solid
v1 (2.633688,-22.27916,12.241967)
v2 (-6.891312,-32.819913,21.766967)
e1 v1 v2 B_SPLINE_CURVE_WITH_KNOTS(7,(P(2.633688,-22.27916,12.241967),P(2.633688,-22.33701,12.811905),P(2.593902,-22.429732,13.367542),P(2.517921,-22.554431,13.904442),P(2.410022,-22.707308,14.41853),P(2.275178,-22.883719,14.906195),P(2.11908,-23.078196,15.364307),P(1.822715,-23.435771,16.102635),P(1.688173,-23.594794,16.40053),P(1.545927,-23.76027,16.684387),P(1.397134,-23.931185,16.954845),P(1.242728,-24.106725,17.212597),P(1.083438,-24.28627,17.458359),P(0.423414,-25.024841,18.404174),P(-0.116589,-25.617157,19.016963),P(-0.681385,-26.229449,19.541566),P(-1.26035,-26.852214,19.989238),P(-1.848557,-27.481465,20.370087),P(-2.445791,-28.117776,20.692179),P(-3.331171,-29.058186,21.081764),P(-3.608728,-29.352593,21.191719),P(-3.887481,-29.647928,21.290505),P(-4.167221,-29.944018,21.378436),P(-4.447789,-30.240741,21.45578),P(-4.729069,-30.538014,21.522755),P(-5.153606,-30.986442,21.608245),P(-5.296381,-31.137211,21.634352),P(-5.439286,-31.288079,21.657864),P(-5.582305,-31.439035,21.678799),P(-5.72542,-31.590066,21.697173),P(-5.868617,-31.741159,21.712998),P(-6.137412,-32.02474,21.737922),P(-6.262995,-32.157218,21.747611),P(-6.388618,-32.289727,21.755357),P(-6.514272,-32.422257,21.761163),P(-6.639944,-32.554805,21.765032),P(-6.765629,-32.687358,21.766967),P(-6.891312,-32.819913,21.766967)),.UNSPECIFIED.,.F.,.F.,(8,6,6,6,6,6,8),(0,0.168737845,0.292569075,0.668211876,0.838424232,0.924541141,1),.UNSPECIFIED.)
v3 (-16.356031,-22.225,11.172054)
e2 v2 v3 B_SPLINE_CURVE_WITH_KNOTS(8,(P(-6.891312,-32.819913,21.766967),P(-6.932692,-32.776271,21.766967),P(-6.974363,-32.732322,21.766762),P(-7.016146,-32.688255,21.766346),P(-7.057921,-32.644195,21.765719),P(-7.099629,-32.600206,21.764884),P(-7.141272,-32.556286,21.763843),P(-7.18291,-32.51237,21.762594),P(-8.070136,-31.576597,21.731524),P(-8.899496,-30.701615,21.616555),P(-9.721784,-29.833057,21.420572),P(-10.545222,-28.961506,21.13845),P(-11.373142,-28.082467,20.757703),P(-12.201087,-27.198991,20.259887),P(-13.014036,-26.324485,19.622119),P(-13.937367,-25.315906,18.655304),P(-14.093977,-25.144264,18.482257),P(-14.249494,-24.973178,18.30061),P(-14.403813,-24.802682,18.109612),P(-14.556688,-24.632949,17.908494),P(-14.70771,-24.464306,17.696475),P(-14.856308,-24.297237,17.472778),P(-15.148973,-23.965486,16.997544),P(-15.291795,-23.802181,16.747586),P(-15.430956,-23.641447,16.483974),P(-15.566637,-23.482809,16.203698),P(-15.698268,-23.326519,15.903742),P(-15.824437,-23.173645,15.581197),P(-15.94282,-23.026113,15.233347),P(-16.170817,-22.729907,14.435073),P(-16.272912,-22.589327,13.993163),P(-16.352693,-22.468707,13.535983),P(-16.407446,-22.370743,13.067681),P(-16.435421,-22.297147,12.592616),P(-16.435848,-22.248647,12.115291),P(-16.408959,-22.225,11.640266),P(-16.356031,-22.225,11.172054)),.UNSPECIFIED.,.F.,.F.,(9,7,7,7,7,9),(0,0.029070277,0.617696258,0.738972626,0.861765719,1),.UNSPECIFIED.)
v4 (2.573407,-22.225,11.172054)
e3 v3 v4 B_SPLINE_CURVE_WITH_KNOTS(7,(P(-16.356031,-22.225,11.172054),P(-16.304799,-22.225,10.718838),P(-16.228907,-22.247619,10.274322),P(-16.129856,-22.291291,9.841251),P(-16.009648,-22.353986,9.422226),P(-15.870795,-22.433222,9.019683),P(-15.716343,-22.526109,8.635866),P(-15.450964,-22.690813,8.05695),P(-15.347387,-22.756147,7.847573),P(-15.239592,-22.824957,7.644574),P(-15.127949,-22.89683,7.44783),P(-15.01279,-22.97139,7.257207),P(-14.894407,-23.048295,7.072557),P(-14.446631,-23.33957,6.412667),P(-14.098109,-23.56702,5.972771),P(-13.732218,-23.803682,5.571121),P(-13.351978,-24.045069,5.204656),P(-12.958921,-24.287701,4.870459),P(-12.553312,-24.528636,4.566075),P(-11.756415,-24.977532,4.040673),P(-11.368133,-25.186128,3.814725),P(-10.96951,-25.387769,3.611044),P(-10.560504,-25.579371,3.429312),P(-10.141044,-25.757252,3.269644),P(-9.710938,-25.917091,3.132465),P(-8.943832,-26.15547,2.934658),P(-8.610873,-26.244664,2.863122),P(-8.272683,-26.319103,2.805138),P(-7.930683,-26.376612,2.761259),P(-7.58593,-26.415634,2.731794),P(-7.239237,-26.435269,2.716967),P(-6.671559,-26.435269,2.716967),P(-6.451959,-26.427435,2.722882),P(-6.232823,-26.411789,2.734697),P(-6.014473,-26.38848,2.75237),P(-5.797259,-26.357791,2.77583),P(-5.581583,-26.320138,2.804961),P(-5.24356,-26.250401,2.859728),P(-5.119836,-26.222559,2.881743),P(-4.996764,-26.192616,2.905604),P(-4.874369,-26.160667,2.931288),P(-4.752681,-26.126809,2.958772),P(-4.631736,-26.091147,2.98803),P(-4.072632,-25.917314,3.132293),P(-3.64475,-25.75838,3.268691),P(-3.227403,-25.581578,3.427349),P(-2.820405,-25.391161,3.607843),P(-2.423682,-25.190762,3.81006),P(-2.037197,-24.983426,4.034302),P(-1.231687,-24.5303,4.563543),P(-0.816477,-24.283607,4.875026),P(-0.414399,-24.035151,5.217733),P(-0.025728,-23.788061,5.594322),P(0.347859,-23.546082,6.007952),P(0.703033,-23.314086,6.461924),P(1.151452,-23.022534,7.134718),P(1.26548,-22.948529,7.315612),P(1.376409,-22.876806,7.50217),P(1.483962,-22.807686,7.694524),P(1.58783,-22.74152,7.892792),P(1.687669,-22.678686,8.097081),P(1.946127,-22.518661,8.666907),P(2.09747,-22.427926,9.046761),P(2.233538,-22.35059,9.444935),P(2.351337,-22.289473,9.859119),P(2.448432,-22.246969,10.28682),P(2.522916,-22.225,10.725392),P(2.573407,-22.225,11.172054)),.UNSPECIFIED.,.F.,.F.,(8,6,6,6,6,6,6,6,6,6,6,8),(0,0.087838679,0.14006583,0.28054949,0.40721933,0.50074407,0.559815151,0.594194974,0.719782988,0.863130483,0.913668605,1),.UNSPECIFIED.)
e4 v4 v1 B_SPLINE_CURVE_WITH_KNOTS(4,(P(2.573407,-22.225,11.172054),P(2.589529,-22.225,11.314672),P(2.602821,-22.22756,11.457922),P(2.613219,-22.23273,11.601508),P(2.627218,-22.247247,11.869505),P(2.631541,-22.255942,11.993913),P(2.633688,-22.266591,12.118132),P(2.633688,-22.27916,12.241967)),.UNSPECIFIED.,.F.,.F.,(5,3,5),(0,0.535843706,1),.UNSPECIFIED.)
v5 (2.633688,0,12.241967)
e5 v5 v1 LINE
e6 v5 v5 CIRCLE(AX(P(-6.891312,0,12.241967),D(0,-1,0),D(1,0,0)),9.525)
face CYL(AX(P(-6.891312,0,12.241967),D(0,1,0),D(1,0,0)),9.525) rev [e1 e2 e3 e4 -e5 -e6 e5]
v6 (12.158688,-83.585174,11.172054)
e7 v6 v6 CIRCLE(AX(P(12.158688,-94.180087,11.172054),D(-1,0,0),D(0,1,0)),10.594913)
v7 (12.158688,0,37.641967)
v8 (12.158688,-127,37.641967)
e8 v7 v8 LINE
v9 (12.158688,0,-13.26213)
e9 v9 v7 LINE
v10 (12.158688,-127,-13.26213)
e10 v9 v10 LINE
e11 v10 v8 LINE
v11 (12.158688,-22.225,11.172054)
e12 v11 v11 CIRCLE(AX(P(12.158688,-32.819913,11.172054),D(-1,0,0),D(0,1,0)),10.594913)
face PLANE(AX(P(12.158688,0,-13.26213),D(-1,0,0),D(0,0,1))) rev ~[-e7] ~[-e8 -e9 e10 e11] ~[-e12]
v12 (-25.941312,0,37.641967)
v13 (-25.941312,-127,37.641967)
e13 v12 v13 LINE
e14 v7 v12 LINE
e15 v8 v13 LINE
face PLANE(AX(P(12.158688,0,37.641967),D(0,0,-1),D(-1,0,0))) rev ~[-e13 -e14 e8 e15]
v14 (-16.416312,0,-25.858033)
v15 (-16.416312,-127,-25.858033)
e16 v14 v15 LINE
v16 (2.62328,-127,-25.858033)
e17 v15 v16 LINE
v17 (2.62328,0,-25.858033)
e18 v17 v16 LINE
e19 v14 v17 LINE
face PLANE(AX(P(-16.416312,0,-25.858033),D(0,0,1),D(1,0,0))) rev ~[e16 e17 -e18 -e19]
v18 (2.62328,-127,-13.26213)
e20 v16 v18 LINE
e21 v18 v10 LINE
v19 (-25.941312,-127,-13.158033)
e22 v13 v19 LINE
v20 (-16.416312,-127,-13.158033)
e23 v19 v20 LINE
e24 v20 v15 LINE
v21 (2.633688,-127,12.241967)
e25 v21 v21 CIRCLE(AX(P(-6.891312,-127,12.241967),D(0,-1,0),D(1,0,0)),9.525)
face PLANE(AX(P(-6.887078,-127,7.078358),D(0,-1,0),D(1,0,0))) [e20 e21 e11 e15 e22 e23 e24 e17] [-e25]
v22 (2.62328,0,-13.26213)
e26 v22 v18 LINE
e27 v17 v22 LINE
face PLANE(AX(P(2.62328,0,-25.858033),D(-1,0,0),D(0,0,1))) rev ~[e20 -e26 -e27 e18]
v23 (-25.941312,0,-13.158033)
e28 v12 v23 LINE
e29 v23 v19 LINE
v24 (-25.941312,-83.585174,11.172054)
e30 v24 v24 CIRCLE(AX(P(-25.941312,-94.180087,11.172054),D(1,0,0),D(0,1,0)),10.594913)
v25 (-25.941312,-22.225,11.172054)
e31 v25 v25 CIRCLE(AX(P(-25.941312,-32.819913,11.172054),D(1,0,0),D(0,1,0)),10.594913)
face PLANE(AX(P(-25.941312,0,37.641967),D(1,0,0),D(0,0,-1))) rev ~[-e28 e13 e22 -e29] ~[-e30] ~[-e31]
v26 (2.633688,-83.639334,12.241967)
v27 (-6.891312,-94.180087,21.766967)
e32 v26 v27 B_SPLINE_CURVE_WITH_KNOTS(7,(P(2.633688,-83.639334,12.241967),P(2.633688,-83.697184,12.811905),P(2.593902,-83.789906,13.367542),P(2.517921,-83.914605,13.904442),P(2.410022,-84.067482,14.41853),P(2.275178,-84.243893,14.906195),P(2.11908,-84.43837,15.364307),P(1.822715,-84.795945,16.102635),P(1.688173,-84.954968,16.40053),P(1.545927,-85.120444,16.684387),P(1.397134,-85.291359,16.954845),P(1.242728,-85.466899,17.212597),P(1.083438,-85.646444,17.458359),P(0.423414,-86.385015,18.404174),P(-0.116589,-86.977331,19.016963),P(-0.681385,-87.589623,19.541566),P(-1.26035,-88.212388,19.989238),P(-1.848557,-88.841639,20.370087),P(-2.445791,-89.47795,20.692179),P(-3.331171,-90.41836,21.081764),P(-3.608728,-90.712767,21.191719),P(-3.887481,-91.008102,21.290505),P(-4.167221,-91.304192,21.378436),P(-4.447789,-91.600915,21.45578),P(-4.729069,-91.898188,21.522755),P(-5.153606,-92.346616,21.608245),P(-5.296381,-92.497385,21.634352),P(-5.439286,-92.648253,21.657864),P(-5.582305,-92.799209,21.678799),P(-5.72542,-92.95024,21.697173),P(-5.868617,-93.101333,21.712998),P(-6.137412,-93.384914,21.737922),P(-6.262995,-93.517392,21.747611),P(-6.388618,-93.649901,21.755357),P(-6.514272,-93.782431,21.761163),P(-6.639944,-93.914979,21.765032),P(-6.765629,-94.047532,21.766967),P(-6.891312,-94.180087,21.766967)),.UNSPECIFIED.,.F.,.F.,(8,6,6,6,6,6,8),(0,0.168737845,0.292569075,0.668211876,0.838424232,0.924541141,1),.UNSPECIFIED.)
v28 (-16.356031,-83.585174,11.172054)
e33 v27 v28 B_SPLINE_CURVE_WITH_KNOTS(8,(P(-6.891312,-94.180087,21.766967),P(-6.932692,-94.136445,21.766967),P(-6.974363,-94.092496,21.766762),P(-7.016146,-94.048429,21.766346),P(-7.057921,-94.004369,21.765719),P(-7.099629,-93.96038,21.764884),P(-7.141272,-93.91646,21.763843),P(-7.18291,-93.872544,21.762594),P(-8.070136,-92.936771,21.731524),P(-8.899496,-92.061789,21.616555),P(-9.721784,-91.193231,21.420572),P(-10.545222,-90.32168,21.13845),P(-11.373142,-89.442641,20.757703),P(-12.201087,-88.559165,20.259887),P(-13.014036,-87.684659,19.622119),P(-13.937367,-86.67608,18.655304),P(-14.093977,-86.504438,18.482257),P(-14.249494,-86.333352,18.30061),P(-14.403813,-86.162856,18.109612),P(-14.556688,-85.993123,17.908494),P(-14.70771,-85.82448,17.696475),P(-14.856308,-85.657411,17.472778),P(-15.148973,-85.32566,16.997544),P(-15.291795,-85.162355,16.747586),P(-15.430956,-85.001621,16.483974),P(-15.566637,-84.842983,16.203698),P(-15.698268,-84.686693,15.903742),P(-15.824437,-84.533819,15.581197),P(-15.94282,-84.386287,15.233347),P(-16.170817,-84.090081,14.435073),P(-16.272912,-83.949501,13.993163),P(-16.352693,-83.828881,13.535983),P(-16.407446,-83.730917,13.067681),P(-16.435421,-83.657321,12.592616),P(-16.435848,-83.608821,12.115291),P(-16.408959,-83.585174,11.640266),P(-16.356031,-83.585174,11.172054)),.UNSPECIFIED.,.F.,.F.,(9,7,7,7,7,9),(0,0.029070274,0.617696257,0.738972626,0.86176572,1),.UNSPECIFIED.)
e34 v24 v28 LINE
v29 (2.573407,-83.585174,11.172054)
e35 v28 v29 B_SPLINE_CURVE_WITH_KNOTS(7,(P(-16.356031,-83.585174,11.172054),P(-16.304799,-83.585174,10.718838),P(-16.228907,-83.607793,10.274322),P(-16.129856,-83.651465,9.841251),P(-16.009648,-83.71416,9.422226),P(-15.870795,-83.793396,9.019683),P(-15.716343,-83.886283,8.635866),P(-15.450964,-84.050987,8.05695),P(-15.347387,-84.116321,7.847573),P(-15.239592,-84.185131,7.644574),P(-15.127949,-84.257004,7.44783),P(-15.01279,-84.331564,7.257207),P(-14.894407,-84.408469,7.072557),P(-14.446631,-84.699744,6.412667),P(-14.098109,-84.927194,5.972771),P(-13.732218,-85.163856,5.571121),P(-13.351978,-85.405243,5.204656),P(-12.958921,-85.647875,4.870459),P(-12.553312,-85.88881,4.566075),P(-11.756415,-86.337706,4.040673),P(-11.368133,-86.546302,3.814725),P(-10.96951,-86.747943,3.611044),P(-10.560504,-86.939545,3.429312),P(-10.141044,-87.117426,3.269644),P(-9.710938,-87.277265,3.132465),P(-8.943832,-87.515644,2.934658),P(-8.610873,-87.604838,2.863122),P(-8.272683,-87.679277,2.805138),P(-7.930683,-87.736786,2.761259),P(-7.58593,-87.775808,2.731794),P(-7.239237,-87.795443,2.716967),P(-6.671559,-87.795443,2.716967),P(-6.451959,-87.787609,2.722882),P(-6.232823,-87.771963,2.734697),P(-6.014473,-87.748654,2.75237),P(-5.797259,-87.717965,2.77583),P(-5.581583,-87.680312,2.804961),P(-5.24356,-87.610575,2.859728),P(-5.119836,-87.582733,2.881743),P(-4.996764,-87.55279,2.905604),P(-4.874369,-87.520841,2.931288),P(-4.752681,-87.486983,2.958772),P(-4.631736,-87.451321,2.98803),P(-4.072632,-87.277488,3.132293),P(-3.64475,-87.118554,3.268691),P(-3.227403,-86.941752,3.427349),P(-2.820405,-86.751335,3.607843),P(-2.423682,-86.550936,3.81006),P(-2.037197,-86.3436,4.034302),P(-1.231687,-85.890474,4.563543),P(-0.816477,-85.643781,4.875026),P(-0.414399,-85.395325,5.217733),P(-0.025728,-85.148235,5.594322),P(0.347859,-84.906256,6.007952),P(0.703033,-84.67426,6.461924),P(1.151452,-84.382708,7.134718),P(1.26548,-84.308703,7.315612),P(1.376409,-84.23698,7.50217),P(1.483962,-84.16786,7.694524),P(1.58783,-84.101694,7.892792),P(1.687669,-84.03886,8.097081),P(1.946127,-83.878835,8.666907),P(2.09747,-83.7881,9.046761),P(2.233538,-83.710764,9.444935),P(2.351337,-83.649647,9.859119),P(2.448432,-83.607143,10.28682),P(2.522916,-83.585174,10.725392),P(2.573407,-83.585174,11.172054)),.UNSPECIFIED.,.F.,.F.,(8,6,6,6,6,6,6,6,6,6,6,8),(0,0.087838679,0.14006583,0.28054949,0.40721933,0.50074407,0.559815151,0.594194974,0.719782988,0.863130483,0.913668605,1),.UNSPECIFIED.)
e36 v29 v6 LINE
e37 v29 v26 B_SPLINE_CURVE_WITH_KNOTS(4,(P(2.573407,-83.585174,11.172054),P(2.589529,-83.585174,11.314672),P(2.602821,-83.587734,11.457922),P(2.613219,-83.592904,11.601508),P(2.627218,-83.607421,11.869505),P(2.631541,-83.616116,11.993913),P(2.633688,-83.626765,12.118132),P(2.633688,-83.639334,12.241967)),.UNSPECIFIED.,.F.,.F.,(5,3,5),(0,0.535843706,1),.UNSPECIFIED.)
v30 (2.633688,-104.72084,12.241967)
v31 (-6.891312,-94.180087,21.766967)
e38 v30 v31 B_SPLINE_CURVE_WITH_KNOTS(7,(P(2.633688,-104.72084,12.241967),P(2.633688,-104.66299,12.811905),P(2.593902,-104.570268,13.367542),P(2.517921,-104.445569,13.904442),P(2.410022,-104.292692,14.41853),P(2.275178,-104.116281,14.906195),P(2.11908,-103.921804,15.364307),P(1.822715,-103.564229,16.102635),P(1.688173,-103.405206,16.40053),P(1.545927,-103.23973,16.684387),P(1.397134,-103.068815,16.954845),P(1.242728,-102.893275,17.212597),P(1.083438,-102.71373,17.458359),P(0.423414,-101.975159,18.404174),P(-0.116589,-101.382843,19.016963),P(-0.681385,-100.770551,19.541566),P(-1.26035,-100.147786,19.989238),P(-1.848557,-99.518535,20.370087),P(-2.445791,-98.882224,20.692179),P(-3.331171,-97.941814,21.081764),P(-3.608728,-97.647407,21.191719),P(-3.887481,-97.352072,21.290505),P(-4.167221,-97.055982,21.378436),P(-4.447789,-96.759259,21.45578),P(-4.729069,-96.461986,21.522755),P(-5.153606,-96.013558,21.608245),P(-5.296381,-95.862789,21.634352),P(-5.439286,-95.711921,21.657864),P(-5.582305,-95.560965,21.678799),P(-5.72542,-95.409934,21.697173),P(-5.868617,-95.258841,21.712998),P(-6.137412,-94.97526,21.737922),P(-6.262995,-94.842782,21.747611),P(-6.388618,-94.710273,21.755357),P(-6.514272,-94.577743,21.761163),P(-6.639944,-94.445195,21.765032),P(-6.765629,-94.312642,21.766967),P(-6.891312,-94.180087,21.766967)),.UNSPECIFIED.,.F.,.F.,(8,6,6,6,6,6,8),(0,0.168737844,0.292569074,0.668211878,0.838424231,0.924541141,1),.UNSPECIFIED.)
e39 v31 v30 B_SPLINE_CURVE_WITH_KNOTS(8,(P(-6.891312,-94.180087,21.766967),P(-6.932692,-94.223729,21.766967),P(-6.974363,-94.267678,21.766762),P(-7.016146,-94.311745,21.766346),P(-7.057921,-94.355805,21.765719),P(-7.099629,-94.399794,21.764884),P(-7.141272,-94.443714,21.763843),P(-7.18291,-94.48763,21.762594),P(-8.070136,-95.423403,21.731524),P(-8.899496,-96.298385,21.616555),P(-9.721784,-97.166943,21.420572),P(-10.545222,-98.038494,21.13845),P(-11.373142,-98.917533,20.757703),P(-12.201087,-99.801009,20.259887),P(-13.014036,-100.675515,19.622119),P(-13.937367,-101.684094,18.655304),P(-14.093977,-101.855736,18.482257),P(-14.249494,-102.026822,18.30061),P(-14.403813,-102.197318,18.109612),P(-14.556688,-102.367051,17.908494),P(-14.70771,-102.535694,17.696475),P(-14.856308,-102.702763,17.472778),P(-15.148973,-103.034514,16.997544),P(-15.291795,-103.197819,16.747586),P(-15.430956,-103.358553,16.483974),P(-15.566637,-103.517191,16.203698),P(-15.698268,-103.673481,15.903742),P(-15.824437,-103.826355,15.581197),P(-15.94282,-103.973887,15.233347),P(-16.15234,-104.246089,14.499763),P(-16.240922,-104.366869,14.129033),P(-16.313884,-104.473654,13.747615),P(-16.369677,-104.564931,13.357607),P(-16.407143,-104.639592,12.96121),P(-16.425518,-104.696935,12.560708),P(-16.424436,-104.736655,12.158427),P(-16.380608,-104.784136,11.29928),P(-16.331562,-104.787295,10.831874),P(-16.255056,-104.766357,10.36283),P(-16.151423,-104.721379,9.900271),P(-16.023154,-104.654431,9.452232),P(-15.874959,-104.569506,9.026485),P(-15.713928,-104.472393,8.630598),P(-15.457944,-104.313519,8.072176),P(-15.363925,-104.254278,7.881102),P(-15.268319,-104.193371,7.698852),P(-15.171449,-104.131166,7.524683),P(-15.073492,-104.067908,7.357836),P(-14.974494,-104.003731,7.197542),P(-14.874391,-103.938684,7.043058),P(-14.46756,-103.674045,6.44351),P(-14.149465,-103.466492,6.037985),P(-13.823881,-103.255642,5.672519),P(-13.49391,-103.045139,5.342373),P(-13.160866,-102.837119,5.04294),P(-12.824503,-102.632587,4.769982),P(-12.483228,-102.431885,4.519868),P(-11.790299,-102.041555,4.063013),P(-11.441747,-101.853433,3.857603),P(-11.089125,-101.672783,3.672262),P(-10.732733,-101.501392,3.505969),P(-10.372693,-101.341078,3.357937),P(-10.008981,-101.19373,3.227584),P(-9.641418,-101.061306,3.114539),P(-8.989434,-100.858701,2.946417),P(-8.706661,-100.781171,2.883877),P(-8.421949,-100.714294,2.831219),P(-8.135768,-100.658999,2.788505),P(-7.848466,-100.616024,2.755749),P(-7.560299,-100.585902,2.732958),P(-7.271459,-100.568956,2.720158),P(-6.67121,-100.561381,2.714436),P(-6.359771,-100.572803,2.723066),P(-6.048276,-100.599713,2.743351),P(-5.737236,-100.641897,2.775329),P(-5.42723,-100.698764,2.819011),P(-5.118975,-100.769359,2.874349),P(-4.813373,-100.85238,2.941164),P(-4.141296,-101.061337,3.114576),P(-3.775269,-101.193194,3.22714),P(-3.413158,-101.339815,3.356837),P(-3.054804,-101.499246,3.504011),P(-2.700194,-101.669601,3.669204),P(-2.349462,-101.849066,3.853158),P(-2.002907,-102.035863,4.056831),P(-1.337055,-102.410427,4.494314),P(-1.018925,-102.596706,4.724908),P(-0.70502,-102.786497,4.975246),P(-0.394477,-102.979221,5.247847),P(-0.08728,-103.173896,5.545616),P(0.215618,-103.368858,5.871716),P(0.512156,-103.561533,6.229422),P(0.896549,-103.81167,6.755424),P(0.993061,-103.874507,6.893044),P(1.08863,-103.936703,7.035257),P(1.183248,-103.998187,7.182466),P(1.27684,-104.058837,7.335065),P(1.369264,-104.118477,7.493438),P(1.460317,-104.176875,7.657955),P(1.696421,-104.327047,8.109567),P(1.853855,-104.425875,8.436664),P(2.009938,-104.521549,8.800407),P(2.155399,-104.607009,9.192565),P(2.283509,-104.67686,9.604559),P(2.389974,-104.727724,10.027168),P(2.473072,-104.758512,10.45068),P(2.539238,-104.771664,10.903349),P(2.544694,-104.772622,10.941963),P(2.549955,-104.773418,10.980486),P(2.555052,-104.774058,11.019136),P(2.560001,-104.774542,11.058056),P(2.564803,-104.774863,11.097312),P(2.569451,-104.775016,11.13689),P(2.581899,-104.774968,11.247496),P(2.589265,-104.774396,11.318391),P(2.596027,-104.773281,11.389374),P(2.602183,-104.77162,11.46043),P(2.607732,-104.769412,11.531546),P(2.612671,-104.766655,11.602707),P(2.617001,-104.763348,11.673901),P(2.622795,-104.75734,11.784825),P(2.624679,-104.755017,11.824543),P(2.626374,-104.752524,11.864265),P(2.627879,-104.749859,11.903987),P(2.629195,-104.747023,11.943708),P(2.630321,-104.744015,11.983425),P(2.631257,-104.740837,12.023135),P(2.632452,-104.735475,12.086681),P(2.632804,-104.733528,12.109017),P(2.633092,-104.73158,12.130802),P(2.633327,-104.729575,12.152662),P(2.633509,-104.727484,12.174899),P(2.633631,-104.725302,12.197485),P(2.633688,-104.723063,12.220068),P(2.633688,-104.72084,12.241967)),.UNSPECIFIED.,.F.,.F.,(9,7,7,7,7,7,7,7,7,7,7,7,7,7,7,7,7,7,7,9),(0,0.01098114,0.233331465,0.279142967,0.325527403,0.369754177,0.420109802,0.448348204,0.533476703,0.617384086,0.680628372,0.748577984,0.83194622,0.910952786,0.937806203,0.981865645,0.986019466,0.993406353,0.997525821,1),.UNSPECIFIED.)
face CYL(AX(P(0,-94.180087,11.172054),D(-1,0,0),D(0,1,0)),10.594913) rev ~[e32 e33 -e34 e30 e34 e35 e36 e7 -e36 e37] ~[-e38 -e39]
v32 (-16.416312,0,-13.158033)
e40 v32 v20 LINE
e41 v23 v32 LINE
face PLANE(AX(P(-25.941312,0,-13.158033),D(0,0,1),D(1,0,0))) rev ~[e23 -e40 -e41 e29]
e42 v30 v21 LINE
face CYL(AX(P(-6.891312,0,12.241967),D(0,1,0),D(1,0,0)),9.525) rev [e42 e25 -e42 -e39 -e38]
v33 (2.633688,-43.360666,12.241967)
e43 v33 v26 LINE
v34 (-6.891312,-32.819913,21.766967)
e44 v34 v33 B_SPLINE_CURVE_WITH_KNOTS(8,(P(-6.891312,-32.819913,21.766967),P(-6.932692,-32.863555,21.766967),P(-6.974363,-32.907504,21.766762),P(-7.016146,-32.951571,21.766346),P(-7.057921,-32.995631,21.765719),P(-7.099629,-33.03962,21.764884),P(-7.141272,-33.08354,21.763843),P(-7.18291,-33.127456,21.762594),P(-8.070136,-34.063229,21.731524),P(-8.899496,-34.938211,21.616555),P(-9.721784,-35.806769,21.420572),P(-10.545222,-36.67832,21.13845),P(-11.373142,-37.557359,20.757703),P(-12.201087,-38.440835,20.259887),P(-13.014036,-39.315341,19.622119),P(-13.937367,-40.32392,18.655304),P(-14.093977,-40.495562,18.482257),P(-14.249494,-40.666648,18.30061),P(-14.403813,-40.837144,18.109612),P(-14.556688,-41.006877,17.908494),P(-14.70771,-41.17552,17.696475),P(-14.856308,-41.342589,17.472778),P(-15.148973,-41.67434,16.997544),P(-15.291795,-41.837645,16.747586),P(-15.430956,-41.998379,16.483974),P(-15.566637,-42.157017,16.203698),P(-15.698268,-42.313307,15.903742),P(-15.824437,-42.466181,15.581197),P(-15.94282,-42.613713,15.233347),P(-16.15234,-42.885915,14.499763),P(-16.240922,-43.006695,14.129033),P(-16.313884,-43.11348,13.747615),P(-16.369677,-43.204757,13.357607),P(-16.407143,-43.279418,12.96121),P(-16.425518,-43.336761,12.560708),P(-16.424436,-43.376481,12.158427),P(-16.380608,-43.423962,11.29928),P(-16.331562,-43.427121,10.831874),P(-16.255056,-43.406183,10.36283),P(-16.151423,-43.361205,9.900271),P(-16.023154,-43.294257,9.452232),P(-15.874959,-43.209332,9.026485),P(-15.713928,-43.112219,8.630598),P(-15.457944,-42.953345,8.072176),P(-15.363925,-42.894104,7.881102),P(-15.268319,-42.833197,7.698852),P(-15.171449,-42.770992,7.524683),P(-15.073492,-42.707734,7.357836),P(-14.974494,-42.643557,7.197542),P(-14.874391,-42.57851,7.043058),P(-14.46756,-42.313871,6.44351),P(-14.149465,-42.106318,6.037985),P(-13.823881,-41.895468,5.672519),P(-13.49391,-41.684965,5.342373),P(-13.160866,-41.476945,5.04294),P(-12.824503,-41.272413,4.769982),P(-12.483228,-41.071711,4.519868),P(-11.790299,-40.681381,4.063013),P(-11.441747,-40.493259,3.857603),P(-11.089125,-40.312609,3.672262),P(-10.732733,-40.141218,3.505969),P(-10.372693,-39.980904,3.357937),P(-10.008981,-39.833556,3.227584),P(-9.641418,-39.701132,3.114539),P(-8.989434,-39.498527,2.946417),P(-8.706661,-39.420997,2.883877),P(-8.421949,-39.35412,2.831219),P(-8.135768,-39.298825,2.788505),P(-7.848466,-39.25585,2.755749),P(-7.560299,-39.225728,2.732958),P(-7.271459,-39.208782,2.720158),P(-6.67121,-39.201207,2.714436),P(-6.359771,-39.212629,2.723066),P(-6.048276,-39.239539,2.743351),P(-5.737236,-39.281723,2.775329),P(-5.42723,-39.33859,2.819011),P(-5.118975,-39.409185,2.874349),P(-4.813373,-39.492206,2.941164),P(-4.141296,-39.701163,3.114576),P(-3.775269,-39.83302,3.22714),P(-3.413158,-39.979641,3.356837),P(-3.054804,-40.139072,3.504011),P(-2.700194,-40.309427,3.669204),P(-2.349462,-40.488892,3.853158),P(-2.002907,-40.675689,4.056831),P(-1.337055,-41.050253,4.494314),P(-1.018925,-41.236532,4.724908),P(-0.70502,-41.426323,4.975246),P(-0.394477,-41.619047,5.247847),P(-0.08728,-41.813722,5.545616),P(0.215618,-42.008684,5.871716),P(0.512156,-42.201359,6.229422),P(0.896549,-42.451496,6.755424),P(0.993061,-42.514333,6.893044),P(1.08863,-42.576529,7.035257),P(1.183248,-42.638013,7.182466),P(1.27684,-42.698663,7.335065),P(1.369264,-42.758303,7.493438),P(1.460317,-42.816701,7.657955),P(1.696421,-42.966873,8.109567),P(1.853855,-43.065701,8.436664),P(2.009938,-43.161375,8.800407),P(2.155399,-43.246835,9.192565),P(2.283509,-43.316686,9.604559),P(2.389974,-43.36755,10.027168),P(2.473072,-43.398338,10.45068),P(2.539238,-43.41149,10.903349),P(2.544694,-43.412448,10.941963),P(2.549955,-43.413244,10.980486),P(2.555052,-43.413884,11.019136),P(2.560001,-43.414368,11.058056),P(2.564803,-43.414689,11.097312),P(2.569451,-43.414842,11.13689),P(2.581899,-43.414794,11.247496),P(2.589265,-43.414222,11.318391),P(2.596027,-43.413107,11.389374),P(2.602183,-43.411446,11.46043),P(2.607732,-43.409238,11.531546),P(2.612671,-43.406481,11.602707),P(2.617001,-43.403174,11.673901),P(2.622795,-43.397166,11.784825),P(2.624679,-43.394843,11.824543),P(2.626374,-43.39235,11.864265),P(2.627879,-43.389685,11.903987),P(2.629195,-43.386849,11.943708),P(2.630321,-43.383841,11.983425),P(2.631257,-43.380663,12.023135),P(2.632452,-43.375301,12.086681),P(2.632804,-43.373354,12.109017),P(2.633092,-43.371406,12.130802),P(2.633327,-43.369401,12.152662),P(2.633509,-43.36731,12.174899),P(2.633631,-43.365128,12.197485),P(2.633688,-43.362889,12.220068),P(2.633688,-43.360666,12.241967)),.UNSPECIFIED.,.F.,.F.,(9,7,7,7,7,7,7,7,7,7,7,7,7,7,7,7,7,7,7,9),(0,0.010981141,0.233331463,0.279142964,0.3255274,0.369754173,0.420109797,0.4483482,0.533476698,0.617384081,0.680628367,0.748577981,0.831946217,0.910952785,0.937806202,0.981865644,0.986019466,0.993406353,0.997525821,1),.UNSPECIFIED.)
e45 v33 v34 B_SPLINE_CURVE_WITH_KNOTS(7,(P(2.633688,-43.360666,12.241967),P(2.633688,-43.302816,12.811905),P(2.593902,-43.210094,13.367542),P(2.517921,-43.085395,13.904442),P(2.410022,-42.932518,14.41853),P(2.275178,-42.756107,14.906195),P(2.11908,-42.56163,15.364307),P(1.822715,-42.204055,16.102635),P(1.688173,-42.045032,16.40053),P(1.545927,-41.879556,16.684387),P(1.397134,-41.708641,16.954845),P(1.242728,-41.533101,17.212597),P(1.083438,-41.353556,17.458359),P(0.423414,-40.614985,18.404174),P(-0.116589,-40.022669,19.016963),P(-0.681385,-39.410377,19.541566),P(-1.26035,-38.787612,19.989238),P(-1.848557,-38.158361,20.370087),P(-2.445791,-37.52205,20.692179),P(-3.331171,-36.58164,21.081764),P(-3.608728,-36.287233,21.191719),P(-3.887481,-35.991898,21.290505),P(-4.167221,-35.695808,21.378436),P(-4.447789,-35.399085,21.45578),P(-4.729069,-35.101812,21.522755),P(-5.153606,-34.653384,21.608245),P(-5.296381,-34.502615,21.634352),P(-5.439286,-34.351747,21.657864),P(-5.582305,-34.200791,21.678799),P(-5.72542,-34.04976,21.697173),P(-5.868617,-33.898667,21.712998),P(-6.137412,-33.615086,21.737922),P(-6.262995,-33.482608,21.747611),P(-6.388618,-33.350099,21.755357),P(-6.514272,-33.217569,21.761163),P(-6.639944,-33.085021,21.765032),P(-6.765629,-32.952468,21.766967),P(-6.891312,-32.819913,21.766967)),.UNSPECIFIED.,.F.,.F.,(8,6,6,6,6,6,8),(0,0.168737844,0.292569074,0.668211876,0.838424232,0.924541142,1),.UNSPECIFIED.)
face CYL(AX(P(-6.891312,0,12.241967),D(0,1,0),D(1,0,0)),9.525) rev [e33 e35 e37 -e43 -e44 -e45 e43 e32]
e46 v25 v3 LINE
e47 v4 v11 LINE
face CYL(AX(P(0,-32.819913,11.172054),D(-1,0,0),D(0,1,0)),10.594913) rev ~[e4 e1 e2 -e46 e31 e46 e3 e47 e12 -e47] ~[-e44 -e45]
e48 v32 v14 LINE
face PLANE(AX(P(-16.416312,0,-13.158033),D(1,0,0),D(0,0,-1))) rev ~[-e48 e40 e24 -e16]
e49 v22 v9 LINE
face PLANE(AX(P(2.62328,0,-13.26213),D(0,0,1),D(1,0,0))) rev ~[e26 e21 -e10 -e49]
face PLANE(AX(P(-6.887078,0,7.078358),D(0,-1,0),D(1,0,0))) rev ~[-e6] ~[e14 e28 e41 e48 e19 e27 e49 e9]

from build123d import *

# Parameters (mm, degrees)
F1_DEPTH  = 127
F2_R      = 104.325393
F2_R_2    = 26.179728
F2_R_3    = 10.594913
F3_DEPTH  = 38.1
F3_FACE_R = 10.594913
F4_DEPTH  = 38.1
F5_R      = 9.525
F6_DEPTH  = 127


with BuildPart() as f1:
    # F0 (on Front) → F1 (new body)
    with BuildSketch(Plane.XZ):
        Polygon((12.158688, 37.641967), (-25.941312, 37.641967), (-25.941312, -13.158033), (-16.416312, -13.158033), (-16.416312, -25.858033), (2.62328, -25.858033), (2.62328, -13.26213), (12.158688, -13.26213), align=None)
    extrude(amount=F1_DEPTH)

    # F2 (on Right) → F3 (cut)
    with BuildSketch(Plane.YZ):
        with Locations((-442.556002, 14.38355)):
            Circle(F2_R)
        with Locations((196.325033, 10.431935)):
            Circle(F2_R_2)
        with Locations((-94.180087, 11.172054)):
            Circle(F2_R_3)
        with Locations((-32.819913, 11.172054)):
            Circle(F2_R_3)
    extrude(amount=-F3_DEPTH, mode=Mode.SUBTRACT)

    # F3_face (on face) → F4 (cut)
    with BuildSketch(Plane(origin=(0, -32.819913, 11.172054), x_dir=(0, 1, 0), z_dir=(-1, 0, 0))):
        Circle(F3_FACE_R)
        with Locations((-61.360174, 0)):
            Circle(F3_FACE_R)
    extrude(amount=-F4_DEPTH, mode=Mode.SUBTRACT)

    # F5 (on Front) → F6 (cut)
    with BuildSketch(Plane.XZ):
        with Locations((-6.891312, 12.241967)):
            Circle(F5_R)
    extrude(amount=F6_DEPTH, mode=Mode.SUBTRACT)


solid = f1.part
